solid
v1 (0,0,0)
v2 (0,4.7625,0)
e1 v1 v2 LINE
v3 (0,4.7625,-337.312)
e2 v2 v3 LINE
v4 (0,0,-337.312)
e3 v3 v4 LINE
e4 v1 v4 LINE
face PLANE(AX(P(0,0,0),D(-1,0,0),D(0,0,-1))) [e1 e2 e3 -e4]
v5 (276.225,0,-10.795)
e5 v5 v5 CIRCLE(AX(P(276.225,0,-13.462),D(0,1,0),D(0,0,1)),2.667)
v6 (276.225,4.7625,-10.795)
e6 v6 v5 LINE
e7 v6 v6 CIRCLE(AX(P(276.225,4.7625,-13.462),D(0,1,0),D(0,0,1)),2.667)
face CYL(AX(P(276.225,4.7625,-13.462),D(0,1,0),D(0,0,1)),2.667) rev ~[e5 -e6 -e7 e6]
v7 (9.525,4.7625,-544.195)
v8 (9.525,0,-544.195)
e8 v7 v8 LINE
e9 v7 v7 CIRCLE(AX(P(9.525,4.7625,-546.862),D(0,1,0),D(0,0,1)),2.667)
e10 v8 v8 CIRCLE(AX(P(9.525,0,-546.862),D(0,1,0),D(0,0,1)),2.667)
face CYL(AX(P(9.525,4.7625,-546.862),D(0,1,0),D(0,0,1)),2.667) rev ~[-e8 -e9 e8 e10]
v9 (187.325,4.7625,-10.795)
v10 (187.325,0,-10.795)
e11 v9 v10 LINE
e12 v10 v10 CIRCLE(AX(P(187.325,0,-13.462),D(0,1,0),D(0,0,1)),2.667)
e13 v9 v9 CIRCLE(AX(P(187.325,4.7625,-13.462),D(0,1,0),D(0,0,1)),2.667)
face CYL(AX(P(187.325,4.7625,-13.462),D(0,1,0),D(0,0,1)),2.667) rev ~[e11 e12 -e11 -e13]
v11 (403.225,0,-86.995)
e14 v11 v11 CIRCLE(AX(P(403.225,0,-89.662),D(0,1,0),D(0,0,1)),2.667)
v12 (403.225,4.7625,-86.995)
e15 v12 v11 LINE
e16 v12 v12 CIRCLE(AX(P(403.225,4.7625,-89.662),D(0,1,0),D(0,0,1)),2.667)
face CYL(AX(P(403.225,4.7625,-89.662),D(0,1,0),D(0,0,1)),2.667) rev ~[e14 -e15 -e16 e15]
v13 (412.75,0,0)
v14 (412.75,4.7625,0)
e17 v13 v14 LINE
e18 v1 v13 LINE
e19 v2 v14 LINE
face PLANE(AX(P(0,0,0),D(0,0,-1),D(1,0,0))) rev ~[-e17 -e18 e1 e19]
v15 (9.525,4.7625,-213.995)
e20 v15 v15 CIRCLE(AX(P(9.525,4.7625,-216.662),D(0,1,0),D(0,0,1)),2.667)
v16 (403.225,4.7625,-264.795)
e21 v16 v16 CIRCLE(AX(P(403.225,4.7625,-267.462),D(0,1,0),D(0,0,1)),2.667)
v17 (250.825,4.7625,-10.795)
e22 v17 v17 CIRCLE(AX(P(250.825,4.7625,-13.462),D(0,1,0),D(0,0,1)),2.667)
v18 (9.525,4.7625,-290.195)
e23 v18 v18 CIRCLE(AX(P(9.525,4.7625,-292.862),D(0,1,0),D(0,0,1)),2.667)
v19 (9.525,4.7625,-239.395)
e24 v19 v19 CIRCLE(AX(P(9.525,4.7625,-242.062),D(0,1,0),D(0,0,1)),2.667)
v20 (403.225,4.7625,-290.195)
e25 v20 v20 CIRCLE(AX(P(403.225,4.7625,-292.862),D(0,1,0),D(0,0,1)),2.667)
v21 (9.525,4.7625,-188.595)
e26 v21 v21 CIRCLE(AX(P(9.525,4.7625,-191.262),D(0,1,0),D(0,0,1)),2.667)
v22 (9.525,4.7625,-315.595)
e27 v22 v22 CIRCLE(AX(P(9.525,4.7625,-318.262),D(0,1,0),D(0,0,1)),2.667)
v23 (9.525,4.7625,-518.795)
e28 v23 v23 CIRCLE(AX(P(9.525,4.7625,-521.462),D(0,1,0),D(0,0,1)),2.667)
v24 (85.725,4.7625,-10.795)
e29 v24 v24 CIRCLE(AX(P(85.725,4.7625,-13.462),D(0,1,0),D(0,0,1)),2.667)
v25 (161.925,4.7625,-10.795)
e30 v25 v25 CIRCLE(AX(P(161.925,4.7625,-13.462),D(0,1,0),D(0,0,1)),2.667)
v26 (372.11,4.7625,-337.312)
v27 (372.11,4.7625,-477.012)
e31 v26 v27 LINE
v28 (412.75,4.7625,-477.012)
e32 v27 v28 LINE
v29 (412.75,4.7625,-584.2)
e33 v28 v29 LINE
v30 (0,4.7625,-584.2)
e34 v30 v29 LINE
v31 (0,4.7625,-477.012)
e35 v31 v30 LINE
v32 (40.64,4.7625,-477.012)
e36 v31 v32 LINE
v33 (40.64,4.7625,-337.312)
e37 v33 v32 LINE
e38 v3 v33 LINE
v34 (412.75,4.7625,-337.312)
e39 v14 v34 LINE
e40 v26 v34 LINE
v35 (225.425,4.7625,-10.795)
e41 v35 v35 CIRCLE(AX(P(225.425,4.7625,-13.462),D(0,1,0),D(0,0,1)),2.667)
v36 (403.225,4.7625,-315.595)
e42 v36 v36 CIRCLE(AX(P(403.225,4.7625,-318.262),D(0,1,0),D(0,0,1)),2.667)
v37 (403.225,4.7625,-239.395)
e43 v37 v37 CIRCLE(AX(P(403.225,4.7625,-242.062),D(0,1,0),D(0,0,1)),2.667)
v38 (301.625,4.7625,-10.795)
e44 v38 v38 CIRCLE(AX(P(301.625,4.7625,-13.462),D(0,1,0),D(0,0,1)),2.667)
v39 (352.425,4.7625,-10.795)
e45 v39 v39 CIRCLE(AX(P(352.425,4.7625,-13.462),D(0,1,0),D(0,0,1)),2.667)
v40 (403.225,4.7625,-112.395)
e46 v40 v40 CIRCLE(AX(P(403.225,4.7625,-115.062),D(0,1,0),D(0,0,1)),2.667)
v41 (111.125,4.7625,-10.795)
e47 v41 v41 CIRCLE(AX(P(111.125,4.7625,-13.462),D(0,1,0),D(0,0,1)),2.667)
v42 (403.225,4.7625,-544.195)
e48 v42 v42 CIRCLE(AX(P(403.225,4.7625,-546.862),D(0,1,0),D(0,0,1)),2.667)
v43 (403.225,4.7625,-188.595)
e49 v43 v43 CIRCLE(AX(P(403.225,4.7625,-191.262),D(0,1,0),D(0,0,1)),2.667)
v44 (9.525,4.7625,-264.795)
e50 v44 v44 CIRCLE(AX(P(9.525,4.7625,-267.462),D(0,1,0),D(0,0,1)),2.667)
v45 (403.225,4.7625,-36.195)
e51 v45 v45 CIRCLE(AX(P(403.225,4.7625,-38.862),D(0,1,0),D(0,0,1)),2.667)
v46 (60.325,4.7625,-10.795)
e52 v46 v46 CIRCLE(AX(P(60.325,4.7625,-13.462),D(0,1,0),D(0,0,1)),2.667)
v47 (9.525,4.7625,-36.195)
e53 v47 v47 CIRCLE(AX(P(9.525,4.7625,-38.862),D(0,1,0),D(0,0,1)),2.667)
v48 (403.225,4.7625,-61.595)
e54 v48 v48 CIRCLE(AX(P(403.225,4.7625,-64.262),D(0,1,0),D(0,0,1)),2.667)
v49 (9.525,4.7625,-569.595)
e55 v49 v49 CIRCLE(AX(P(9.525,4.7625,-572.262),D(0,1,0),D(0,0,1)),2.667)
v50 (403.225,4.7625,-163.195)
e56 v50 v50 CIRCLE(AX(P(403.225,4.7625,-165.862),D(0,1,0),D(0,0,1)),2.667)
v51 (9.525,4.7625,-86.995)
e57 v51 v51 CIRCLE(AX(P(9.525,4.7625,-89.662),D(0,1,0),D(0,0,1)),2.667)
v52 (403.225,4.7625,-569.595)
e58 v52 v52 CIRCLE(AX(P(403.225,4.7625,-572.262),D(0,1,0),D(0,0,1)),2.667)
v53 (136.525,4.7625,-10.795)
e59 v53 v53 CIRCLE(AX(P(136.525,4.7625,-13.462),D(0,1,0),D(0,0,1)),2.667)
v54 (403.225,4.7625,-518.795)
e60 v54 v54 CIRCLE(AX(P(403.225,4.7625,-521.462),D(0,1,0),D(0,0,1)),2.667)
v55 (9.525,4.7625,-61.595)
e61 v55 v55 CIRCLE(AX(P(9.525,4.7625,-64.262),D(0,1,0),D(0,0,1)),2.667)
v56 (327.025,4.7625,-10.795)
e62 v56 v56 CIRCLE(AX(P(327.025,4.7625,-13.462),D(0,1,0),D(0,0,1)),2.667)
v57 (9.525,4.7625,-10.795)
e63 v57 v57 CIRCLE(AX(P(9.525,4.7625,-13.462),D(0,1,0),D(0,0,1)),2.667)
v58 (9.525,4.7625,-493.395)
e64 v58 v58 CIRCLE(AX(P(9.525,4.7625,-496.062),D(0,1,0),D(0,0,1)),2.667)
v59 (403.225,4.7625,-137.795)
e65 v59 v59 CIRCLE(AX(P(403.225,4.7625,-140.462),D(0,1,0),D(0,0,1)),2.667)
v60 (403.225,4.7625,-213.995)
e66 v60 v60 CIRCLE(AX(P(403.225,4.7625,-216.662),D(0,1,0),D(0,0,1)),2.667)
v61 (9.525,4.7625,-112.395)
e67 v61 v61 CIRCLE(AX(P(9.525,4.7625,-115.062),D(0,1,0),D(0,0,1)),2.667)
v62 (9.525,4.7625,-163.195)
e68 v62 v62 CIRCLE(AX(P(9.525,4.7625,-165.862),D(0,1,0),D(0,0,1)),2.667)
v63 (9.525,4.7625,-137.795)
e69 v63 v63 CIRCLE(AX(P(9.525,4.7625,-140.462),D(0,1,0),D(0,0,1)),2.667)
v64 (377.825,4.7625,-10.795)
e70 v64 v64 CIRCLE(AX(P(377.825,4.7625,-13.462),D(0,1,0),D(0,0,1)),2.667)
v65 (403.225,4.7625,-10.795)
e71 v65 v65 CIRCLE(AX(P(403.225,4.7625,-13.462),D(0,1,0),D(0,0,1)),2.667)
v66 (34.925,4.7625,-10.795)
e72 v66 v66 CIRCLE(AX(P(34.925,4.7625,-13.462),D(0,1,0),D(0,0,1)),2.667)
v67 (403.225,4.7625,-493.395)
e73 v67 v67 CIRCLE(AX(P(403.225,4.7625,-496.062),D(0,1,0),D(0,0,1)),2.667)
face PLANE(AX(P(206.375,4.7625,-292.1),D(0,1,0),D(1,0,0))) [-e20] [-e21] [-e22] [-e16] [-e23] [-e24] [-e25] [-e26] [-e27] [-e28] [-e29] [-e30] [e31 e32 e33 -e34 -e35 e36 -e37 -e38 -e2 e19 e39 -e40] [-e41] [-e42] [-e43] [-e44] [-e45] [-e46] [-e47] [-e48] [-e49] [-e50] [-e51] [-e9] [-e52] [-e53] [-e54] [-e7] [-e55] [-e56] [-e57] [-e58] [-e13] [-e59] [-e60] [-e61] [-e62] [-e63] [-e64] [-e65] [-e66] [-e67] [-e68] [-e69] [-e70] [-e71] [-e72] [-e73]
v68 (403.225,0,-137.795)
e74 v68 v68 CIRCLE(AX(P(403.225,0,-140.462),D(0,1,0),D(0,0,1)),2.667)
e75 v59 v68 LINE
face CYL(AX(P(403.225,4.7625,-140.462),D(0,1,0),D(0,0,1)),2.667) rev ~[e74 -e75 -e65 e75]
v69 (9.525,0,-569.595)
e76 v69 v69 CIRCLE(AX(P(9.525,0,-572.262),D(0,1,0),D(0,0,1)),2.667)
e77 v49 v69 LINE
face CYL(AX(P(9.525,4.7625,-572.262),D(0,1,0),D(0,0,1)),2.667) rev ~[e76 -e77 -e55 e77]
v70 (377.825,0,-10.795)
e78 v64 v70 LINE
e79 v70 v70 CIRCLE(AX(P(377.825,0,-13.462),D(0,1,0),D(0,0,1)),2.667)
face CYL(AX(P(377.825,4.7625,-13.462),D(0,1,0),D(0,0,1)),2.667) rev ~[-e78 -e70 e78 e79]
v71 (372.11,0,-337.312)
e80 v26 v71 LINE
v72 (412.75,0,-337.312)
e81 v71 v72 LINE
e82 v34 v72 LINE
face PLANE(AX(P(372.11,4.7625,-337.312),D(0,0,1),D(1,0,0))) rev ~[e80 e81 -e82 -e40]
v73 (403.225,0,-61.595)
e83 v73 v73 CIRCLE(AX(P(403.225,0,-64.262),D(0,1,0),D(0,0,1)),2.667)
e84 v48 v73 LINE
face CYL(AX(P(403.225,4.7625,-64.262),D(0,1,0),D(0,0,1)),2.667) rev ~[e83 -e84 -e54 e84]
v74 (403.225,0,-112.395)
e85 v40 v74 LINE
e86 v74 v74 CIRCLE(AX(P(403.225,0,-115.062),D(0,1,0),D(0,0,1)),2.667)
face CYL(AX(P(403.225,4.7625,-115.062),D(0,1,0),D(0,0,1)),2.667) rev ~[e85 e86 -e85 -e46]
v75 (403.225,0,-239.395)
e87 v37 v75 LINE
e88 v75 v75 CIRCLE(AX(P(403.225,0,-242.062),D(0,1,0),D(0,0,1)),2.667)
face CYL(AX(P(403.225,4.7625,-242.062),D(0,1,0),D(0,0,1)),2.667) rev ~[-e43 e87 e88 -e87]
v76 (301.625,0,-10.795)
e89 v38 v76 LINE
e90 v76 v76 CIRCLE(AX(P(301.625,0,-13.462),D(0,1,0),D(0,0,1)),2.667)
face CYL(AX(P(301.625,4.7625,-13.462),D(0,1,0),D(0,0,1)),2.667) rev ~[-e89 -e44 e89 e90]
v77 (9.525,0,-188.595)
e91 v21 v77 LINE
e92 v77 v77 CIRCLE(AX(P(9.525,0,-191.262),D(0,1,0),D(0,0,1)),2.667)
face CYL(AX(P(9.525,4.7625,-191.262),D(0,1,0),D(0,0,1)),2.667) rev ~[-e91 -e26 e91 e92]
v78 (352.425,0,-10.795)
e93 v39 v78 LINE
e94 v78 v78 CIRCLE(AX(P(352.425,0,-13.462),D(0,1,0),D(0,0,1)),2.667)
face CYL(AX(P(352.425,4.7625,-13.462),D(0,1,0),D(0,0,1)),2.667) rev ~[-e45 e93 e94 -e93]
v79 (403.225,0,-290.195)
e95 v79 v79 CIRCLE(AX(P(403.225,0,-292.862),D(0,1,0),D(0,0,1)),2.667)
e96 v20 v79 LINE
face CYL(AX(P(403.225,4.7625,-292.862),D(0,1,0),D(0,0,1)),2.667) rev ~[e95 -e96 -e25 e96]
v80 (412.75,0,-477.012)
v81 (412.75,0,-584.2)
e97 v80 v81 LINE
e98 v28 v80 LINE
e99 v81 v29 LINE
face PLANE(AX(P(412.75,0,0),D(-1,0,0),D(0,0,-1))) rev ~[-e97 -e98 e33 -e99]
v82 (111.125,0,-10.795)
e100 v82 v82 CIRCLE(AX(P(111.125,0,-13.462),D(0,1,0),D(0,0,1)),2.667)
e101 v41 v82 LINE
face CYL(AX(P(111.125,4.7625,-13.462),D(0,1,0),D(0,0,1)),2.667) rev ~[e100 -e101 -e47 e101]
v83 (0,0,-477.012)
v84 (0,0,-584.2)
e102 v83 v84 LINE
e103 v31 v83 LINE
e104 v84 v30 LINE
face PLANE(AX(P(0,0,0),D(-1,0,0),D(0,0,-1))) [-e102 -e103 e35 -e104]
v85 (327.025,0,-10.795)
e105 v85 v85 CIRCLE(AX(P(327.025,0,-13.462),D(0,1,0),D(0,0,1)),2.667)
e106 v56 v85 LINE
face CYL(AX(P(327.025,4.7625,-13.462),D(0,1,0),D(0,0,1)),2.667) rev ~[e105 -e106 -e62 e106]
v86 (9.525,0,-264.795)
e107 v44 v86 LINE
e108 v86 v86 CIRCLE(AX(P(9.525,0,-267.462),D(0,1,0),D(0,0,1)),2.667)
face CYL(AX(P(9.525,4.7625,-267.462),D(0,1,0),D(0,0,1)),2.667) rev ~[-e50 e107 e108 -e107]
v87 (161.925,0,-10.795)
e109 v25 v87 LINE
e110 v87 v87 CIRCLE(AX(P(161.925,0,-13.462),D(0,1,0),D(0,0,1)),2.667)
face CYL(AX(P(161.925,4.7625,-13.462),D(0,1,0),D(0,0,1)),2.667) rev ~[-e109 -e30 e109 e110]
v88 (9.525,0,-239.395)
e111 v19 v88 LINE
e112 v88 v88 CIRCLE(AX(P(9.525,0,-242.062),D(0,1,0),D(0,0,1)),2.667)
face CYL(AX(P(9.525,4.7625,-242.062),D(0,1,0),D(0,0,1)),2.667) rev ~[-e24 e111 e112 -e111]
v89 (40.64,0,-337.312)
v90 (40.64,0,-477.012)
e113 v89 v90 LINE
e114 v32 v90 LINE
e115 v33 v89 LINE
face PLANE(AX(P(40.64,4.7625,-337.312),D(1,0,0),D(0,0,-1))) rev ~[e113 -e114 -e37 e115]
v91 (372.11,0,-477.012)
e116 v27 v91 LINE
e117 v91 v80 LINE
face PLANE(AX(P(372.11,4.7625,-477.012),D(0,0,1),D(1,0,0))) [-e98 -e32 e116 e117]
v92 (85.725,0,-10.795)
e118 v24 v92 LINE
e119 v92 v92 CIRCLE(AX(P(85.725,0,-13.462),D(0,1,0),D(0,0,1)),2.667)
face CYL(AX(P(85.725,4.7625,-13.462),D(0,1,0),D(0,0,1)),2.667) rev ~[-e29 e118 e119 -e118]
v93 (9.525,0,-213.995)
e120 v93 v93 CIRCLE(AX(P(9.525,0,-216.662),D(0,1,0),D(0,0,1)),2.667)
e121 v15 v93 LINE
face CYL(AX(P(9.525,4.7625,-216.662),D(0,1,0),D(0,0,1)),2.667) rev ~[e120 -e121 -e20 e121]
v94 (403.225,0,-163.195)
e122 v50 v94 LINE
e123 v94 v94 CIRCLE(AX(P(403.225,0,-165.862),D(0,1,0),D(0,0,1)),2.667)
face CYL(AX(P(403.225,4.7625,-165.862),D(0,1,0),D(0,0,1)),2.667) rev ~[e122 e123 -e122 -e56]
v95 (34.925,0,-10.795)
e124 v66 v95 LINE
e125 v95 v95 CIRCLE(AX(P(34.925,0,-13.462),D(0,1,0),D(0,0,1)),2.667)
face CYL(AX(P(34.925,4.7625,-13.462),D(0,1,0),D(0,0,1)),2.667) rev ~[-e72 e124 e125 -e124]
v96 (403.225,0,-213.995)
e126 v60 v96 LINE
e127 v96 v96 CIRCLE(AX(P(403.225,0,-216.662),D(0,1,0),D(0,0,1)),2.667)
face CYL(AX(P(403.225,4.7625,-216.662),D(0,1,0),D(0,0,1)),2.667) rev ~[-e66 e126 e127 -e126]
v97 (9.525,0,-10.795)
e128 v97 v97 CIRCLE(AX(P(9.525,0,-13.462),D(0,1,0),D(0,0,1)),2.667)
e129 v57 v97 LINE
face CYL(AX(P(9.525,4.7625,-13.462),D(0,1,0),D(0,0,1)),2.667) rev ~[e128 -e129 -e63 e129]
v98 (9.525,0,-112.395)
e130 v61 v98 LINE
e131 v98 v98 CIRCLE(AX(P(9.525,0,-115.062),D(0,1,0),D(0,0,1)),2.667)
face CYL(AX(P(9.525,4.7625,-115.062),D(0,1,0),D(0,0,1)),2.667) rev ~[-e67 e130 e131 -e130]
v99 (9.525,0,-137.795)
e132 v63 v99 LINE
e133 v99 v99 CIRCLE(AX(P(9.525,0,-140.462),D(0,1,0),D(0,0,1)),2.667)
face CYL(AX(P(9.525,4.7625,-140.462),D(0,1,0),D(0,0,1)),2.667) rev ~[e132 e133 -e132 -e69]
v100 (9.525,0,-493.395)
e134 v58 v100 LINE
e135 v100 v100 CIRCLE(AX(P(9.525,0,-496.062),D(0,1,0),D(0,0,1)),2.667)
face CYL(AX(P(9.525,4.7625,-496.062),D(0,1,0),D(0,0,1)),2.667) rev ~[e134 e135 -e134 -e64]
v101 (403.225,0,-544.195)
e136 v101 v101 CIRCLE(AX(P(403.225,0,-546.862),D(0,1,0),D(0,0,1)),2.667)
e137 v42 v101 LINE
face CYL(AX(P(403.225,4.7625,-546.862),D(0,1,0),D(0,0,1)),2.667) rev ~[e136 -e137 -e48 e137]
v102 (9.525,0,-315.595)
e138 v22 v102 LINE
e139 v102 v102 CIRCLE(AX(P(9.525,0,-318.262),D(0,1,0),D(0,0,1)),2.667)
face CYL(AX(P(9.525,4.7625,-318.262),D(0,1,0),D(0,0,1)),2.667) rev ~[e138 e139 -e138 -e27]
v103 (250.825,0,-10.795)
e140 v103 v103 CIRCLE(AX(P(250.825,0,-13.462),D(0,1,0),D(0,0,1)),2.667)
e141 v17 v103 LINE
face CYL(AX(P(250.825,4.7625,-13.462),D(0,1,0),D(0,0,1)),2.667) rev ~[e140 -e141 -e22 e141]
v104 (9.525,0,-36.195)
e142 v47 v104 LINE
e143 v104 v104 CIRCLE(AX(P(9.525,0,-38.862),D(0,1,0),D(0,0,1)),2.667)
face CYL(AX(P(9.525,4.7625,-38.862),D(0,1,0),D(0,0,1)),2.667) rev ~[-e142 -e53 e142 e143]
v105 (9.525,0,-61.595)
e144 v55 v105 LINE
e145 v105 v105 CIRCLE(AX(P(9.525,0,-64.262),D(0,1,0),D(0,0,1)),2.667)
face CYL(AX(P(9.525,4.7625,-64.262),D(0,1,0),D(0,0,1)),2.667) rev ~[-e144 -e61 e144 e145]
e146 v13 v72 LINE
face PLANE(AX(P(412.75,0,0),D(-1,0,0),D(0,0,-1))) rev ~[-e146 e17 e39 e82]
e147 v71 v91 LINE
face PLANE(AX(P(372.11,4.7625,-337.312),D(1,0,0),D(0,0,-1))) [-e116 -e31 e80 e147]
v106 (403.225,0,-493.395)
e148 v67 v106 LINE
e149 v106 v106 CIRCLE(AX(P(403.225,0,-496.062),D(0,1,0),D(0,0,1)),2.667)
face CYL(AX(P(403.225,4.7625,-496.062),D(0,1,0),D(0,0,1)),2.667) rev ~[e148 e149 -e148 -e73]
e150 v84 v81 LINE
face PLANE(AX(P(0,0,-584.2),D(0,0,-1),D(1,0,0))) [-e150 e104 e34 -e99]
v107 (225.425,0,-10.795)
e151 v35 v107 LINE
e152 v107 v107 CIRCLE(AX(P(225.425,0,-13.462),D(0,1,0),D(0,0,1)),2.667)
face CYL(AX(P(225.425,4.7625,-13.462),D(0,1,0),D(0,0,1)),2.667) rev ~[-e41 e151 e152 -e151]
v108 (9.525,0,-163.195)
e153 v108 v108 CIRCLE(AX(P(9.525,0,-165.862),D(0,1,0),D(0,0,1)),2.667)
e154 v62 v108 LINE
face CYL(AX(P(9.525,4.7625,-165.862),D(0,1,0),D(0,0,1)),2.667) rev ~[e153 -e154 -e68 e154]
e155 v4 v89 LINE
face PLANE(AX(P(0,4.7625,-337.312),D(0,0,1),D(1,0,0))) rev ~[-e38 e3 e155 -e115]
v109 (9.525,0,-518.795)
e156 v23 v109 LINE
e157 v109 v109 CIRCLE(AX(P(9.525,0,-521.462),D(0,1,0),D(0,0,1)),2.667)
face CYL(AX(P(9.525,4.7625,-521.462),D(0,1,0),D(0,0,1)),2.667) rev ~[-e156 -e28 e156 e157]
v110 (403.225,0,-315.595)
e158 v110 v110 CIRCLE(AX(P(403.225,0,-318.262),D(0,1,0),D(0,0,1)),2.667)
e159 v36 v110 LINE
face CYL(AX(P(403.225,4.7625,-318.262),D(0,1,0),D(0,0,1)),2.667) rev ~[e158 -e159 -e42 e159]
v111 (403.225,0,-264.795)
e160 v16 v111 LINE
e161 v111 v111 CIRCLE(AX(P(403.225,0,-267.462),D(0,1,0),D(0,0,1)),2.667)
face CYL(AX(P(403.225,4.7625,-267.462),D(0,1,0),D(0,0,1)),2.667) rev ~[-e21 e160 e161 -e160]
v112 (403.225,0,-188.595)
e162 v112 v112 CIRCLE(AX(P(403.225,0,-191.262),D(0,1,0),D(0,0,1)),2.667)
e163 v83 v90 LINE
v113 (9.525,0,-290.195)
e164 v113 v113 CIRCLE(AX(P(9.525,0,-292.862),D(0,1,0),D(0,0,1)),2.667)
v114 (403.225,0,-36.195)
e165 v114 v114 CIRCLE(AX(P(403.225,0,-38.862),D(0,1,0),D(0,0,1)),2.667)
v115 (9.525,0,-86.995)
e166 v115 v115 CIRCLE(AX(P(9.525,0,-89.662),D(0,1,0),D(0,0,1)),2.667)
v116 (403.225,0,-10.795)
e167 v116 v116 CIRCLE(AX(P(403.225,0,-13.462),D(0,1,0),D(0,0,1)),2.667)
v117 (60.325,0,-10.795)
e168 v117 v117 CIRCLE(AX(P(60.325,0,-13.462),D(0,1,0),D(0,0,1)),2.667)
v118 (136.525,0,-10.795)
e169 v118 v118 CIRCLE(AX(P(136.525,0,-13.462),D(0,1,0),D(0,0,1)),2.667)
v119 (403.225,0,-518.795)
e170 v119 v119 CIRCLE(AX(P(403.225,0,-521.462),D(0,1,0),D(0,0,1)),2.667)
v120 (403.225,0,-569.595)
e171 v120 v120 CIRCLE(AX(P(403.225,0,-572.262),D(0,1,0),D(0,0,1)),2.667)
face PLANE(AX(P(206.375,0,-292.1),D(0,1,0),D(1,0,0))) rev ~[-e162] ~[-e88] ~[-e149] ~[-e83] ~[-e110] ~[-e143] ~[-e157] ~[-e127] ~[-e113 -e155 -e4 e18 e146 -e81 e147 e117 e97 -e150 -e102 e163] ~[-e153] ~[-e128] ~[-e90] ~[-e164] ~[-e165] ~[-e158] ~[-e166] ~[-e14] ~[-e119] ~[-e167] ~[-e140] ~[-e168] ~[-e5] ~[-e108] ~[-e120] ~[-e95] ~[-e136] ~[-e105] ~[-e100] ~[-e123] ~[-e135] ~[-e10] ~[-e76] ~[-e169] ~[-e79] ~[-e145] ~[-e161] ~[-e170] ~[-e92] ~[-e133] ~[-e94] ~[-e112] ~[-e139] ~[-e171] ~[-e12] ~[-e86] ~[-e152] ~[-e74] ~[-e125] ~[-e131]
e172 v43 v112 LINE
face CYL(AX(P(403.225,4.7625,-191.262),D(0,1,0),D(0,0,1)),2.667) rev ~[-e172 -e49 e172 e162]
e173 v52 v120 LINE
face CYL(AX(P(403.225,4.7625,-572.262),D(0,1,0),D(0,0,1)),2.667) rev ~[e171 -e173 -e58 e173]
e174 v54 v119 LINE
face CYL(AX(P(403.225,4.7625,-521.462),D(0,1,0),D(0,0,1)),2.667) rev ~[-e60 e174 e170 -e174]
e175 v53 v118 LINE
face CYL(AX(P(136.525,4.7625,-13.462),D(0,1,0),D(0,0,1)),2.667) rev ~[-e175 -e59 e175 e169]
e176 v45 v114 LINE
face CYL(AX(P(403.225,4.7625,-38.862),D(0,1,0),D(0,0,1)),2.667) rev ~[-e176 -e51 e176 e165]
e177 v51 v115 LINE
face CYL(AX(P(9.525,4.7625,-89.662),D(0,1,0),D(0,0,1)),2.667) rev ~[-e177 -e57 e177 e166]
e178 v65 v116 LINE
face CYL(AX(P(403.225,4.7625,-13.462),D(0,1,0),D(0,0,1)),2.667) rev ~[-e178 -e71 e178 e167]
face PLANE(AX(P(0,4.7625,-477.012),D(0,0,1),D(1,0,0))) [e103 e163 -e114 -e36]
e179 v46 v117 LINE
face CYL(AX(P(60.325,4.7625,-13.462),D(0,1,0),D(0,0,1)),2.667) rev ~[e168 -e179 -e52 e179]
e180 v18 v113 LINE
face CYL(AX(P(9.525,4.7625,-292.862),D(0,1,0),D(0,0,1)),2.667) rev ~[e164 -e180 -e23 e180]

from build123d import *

# Parameters (mm, degrees)
SKETCH1_W           = 412.75
SKETCH1_H           = 584.2
BOSS_EXTRUDE1_DEPTH = 4.7625
SKETCH2_W           = 40.64
SKETCH2_H           = 139.7
CUT_EXTRUDE1_DEPTH  = 716.314534947
SKETCH3_R           = 2.667
CUT_EXTRUDE2_DEPTH  = 254


with BuildPart() as part:
    # Sketch1 → Boss-Extrude1 (new body)
    with BuildSketch(Plane(origin=(0, 0, 0), x_dir=(1, 0, 0), z_dir=(0, 1, 0))):
        with Locations((206.375, 292.1)):
            Rectangle(SKETCH1_W, SKETCH1_H)
    extrude(amount=BOSS_EXTRUDE1_DEPTH)

    # Sketch2 → Cut-Extrude1 (cut, through all)
    with BuildSketch(Plane(origin=(0, 4.7625, 0), x_dir=(1, 0, 0), z_dir=(0, 1, 0))):
        with Locations((20.32, 407.162)):
            Rectangle(SKETCH2_W, SKETCH2_H)
        with Locations((392.43, 407.162)):
            Rectangle(SKETCH2_W, SKETCH2_H)
    extrude(amount=-CUT_EXTRUDE1_DEPTH, mode=Mode.SUBTRACT)

    # Sketch3 → Cut-Extrude2 (cut)
    with BuildSketch(Plane(origin=(0, 4.7625, 0), x_dir=(1, 0, 0), z_dir=(0, 1, 0))):
        with Locations(Location((9.525, 13.462, 0), (0, 0, 270))):
            Circle(SKETCH3_R)
        with Locations(Location((34.925, 13.462, 0), (0, 0, 270))):
            Circle(SKETCH3_R)
        with Locations(Location((60.325, 13.462, 0), (0, 0, 270))):
            Circle(SKETCH3_R)
        with Locations(Location((85.725, 13.462, 0), (0, 0, 270))):
            Circle(SKETCH3_R)
        with Locations(Location((111.125, 13.462, 0), (0, 0, 270))):
            Circle(SKETCH3_R)
        with Locations(Location((136.525, 13.462, 0), (0, 0, 270))):
            Circle(SKETCH3_R)
        with Locations(Location((161.925, 13.462, 0), (0, 0, 270))):
            Circle(SKETCH3_R)
        with Locations(Location((187.325, 13.462, 0), (0, 0, 270))):
            Circle(SKETCH3_R)
        with Locations(Location((225.425, 13.462, 0), (0, 0, 270))):
            Circle(SKETCH3_R)
        with Locations(Location((250.825, 13.462, 0), (0, 0, 270))):
            Circle(SKETCH3_R)
        with Locations(Location((276.225, 13.462, 0), (0, 0, 270))):
            Circle(SKETCH3_R)
        with Locations(Location((301.625, 13.462, 0), (0, 0, 270))):
            Circle(SKETCH3_R)
        with Locations(Location((327.025, 13.462, 0), (0, 0, 270))):
            Circle(SKETCH3_R)
        with Locations(Location((352.425, 13.462, 0), (0, 0, 270))):
            Circle(SKETCH3_R)
        with Locations(Location((377.825, 13.462, 0), (0, 0, 270))):
            Circle(SKETCH3_R)
        with Locations(Location((403.225, 13.462, 0), (0, 0, 270))):
            Circle(SKETCH3_R)
        with Locations(Location((403.225, 38.862, 0), (0, 0, 270))):
            Circle(SKETCH3_R)
        with Locations(Location((403.225, 64.262, 0), (0, 0, 270))):
            Circle(SKETCH3_R)
        with Locations(Location((403.225, 89.662, 0), (0, 0, 270))):
            Circle(SKETCH3_R)
        with Locations(Location((403.225, 115.062, 0), (0, 0, 270))):
            Circle(SKETCH3_R)
        with Locations(Location((403.225, 140.462, 0), (0, 0, 270))):
            Circle(SKETCH3_R)
        with Locations(Location((403.225, 165.862, 0), (0, 0, 270))):
            Circle(SKETCH3_R)
        with Locations(Location((403.225, 191.262, 0), (0, 0, 270))):
            Circle(SKETCH3_R)
        with Locations(Location((403.225, 216.662, 0), (0, 0, 270))):
            Circle(SKETCH3_R)
        with Locations(Location((403.225, 242.062, 0), (0, 0, 270))):
            Circle(SKETCH3_R)
        with Locations(Location((403.225, 267.462, 0), (0, 0, 270))):
            Circle(SKETCH3_R)
        with Locations(Location((403.225, 292.862, 0), (0, 0, 270))):
            Circle(SKETCH3_R)
        with Locations(Location((403.225, 318.262, 0), (0, 0, 270))):
            Circle(SKETCH3_R)
        with Locations((403.225, 343.662)):
            Circle(SKETCH3_R)
        with Locations((403.225, 369.062)):
            Circle(SKETCH3_R)
        with Locations((403.225, 394.462)):
            Circle(SKETCH3_R)
        with Locations((403.225, 419.862)):
            Circle(SKETCH3_R)
        with Locations((403.225, 445.262)):
            Circle(SKETCH3_R)
        with Locations((403.225, 470.662)):
            Circle(SKETCH3_R)
        with Locations(Location((403.225, 496.062, 0), (0, 0, 270))):
            Circle(SKETCH3_R)
        with Locations(Location((403.225, 521.462, 0), (0, 0, 270))):
            Circle(SKETCH3_R)
        with Locations(Location((403.225, 546.862, 0), (0, 0, 270))):
            Circle(SKETCH3_R)
        with Locations(Location((403.225, 572.262, 0), (0, 0, 270))):
            Circle(SKETCH3_R)
        with Locations(Location((9.525, 38.862, 0), (0, 0, 270))):
            Circle(SKETCH3_R)
        with Locations(Location((9.525, 64.262, 0), (0, 0, 270))):
            Circle(SKETCH3_R)
        with Locations(Location((9.525, 89.662, 0), (0, 0, 270))):
            Circle(SKETCH3_R)
        with Locations(Location((9.525, 115.062, 0), (0, 0, 270))):
            Circle(SKETCH3_R)
        with Locations(Location((9.525, 140.462, 0), (0, 0, 270))):
            Circle(SKETCH3_R)
        with Locations(Location((9.525, 165.862, 0), (0, 0, 270))):
            Circle(SKETCH3_R)
        with Locations(Location((9.525, 191.262, 0), (0, 0, 270))):
            Circle(SKETCH3_R)
        with Locations(Location((9.525, 216.662, 0), (0, 0, 270))):
            Circle(SKETCH3_R)
        with Locations(Location((9.525, 242.062, 0), (0, 0, 270))):
            Circle(SKETCH3_R)
        with Locations(Location((9.525, 267.462, 0), (0, 0, 270))):
            Circle(SKETCH3_R)
        with Locations(Location((9.525, 292.862, 0), (0, 0, 270))):
            Circle(SKETCH3_R)
        with Locations(Location((9.525, 318.262, 0), (0, 0, 270))):
            Circle(SKETCH3_R)
        with Locations((9.525, 343.662)):
            Circle(SKETCH3_R)
        with Locations((9.525, 369.062)):
            Circle(SKETCH3_R)
        with Locations((9.525, 394.462)):
            Circle(SKETCH3_R)
        with Locations((9.525, 419.862)):
            Circle(SKETCH3_R)
        with Locations((9.525, 445.262)):
            Circle(SKETCH3_R)
        with Locations((9.525, 470.662)):
            Circle(SKETCH3_R)
        with Locations(Location((9.525, 496.062, 0), (0, 0, 270))):
            Circle(SKETCH3_R)
        with Locations(Location((9.525, 521.462, 0), (0, 0, 270))):
            Circle(SKETCH3_R)
        with Locations(Location((9.525, 546.862, 0), (0, 0, 270))):
            Circle(SKETCH3_R)
        with Locations(Location((9.525, 572.262, 0), (0, 0, 270))):
            Circle(SKETCH3_R)
    extrude(amount=-CUT_EXTRUDE2_DEPTH, mode=Mode.SUBTRACT)


solid = part.part
